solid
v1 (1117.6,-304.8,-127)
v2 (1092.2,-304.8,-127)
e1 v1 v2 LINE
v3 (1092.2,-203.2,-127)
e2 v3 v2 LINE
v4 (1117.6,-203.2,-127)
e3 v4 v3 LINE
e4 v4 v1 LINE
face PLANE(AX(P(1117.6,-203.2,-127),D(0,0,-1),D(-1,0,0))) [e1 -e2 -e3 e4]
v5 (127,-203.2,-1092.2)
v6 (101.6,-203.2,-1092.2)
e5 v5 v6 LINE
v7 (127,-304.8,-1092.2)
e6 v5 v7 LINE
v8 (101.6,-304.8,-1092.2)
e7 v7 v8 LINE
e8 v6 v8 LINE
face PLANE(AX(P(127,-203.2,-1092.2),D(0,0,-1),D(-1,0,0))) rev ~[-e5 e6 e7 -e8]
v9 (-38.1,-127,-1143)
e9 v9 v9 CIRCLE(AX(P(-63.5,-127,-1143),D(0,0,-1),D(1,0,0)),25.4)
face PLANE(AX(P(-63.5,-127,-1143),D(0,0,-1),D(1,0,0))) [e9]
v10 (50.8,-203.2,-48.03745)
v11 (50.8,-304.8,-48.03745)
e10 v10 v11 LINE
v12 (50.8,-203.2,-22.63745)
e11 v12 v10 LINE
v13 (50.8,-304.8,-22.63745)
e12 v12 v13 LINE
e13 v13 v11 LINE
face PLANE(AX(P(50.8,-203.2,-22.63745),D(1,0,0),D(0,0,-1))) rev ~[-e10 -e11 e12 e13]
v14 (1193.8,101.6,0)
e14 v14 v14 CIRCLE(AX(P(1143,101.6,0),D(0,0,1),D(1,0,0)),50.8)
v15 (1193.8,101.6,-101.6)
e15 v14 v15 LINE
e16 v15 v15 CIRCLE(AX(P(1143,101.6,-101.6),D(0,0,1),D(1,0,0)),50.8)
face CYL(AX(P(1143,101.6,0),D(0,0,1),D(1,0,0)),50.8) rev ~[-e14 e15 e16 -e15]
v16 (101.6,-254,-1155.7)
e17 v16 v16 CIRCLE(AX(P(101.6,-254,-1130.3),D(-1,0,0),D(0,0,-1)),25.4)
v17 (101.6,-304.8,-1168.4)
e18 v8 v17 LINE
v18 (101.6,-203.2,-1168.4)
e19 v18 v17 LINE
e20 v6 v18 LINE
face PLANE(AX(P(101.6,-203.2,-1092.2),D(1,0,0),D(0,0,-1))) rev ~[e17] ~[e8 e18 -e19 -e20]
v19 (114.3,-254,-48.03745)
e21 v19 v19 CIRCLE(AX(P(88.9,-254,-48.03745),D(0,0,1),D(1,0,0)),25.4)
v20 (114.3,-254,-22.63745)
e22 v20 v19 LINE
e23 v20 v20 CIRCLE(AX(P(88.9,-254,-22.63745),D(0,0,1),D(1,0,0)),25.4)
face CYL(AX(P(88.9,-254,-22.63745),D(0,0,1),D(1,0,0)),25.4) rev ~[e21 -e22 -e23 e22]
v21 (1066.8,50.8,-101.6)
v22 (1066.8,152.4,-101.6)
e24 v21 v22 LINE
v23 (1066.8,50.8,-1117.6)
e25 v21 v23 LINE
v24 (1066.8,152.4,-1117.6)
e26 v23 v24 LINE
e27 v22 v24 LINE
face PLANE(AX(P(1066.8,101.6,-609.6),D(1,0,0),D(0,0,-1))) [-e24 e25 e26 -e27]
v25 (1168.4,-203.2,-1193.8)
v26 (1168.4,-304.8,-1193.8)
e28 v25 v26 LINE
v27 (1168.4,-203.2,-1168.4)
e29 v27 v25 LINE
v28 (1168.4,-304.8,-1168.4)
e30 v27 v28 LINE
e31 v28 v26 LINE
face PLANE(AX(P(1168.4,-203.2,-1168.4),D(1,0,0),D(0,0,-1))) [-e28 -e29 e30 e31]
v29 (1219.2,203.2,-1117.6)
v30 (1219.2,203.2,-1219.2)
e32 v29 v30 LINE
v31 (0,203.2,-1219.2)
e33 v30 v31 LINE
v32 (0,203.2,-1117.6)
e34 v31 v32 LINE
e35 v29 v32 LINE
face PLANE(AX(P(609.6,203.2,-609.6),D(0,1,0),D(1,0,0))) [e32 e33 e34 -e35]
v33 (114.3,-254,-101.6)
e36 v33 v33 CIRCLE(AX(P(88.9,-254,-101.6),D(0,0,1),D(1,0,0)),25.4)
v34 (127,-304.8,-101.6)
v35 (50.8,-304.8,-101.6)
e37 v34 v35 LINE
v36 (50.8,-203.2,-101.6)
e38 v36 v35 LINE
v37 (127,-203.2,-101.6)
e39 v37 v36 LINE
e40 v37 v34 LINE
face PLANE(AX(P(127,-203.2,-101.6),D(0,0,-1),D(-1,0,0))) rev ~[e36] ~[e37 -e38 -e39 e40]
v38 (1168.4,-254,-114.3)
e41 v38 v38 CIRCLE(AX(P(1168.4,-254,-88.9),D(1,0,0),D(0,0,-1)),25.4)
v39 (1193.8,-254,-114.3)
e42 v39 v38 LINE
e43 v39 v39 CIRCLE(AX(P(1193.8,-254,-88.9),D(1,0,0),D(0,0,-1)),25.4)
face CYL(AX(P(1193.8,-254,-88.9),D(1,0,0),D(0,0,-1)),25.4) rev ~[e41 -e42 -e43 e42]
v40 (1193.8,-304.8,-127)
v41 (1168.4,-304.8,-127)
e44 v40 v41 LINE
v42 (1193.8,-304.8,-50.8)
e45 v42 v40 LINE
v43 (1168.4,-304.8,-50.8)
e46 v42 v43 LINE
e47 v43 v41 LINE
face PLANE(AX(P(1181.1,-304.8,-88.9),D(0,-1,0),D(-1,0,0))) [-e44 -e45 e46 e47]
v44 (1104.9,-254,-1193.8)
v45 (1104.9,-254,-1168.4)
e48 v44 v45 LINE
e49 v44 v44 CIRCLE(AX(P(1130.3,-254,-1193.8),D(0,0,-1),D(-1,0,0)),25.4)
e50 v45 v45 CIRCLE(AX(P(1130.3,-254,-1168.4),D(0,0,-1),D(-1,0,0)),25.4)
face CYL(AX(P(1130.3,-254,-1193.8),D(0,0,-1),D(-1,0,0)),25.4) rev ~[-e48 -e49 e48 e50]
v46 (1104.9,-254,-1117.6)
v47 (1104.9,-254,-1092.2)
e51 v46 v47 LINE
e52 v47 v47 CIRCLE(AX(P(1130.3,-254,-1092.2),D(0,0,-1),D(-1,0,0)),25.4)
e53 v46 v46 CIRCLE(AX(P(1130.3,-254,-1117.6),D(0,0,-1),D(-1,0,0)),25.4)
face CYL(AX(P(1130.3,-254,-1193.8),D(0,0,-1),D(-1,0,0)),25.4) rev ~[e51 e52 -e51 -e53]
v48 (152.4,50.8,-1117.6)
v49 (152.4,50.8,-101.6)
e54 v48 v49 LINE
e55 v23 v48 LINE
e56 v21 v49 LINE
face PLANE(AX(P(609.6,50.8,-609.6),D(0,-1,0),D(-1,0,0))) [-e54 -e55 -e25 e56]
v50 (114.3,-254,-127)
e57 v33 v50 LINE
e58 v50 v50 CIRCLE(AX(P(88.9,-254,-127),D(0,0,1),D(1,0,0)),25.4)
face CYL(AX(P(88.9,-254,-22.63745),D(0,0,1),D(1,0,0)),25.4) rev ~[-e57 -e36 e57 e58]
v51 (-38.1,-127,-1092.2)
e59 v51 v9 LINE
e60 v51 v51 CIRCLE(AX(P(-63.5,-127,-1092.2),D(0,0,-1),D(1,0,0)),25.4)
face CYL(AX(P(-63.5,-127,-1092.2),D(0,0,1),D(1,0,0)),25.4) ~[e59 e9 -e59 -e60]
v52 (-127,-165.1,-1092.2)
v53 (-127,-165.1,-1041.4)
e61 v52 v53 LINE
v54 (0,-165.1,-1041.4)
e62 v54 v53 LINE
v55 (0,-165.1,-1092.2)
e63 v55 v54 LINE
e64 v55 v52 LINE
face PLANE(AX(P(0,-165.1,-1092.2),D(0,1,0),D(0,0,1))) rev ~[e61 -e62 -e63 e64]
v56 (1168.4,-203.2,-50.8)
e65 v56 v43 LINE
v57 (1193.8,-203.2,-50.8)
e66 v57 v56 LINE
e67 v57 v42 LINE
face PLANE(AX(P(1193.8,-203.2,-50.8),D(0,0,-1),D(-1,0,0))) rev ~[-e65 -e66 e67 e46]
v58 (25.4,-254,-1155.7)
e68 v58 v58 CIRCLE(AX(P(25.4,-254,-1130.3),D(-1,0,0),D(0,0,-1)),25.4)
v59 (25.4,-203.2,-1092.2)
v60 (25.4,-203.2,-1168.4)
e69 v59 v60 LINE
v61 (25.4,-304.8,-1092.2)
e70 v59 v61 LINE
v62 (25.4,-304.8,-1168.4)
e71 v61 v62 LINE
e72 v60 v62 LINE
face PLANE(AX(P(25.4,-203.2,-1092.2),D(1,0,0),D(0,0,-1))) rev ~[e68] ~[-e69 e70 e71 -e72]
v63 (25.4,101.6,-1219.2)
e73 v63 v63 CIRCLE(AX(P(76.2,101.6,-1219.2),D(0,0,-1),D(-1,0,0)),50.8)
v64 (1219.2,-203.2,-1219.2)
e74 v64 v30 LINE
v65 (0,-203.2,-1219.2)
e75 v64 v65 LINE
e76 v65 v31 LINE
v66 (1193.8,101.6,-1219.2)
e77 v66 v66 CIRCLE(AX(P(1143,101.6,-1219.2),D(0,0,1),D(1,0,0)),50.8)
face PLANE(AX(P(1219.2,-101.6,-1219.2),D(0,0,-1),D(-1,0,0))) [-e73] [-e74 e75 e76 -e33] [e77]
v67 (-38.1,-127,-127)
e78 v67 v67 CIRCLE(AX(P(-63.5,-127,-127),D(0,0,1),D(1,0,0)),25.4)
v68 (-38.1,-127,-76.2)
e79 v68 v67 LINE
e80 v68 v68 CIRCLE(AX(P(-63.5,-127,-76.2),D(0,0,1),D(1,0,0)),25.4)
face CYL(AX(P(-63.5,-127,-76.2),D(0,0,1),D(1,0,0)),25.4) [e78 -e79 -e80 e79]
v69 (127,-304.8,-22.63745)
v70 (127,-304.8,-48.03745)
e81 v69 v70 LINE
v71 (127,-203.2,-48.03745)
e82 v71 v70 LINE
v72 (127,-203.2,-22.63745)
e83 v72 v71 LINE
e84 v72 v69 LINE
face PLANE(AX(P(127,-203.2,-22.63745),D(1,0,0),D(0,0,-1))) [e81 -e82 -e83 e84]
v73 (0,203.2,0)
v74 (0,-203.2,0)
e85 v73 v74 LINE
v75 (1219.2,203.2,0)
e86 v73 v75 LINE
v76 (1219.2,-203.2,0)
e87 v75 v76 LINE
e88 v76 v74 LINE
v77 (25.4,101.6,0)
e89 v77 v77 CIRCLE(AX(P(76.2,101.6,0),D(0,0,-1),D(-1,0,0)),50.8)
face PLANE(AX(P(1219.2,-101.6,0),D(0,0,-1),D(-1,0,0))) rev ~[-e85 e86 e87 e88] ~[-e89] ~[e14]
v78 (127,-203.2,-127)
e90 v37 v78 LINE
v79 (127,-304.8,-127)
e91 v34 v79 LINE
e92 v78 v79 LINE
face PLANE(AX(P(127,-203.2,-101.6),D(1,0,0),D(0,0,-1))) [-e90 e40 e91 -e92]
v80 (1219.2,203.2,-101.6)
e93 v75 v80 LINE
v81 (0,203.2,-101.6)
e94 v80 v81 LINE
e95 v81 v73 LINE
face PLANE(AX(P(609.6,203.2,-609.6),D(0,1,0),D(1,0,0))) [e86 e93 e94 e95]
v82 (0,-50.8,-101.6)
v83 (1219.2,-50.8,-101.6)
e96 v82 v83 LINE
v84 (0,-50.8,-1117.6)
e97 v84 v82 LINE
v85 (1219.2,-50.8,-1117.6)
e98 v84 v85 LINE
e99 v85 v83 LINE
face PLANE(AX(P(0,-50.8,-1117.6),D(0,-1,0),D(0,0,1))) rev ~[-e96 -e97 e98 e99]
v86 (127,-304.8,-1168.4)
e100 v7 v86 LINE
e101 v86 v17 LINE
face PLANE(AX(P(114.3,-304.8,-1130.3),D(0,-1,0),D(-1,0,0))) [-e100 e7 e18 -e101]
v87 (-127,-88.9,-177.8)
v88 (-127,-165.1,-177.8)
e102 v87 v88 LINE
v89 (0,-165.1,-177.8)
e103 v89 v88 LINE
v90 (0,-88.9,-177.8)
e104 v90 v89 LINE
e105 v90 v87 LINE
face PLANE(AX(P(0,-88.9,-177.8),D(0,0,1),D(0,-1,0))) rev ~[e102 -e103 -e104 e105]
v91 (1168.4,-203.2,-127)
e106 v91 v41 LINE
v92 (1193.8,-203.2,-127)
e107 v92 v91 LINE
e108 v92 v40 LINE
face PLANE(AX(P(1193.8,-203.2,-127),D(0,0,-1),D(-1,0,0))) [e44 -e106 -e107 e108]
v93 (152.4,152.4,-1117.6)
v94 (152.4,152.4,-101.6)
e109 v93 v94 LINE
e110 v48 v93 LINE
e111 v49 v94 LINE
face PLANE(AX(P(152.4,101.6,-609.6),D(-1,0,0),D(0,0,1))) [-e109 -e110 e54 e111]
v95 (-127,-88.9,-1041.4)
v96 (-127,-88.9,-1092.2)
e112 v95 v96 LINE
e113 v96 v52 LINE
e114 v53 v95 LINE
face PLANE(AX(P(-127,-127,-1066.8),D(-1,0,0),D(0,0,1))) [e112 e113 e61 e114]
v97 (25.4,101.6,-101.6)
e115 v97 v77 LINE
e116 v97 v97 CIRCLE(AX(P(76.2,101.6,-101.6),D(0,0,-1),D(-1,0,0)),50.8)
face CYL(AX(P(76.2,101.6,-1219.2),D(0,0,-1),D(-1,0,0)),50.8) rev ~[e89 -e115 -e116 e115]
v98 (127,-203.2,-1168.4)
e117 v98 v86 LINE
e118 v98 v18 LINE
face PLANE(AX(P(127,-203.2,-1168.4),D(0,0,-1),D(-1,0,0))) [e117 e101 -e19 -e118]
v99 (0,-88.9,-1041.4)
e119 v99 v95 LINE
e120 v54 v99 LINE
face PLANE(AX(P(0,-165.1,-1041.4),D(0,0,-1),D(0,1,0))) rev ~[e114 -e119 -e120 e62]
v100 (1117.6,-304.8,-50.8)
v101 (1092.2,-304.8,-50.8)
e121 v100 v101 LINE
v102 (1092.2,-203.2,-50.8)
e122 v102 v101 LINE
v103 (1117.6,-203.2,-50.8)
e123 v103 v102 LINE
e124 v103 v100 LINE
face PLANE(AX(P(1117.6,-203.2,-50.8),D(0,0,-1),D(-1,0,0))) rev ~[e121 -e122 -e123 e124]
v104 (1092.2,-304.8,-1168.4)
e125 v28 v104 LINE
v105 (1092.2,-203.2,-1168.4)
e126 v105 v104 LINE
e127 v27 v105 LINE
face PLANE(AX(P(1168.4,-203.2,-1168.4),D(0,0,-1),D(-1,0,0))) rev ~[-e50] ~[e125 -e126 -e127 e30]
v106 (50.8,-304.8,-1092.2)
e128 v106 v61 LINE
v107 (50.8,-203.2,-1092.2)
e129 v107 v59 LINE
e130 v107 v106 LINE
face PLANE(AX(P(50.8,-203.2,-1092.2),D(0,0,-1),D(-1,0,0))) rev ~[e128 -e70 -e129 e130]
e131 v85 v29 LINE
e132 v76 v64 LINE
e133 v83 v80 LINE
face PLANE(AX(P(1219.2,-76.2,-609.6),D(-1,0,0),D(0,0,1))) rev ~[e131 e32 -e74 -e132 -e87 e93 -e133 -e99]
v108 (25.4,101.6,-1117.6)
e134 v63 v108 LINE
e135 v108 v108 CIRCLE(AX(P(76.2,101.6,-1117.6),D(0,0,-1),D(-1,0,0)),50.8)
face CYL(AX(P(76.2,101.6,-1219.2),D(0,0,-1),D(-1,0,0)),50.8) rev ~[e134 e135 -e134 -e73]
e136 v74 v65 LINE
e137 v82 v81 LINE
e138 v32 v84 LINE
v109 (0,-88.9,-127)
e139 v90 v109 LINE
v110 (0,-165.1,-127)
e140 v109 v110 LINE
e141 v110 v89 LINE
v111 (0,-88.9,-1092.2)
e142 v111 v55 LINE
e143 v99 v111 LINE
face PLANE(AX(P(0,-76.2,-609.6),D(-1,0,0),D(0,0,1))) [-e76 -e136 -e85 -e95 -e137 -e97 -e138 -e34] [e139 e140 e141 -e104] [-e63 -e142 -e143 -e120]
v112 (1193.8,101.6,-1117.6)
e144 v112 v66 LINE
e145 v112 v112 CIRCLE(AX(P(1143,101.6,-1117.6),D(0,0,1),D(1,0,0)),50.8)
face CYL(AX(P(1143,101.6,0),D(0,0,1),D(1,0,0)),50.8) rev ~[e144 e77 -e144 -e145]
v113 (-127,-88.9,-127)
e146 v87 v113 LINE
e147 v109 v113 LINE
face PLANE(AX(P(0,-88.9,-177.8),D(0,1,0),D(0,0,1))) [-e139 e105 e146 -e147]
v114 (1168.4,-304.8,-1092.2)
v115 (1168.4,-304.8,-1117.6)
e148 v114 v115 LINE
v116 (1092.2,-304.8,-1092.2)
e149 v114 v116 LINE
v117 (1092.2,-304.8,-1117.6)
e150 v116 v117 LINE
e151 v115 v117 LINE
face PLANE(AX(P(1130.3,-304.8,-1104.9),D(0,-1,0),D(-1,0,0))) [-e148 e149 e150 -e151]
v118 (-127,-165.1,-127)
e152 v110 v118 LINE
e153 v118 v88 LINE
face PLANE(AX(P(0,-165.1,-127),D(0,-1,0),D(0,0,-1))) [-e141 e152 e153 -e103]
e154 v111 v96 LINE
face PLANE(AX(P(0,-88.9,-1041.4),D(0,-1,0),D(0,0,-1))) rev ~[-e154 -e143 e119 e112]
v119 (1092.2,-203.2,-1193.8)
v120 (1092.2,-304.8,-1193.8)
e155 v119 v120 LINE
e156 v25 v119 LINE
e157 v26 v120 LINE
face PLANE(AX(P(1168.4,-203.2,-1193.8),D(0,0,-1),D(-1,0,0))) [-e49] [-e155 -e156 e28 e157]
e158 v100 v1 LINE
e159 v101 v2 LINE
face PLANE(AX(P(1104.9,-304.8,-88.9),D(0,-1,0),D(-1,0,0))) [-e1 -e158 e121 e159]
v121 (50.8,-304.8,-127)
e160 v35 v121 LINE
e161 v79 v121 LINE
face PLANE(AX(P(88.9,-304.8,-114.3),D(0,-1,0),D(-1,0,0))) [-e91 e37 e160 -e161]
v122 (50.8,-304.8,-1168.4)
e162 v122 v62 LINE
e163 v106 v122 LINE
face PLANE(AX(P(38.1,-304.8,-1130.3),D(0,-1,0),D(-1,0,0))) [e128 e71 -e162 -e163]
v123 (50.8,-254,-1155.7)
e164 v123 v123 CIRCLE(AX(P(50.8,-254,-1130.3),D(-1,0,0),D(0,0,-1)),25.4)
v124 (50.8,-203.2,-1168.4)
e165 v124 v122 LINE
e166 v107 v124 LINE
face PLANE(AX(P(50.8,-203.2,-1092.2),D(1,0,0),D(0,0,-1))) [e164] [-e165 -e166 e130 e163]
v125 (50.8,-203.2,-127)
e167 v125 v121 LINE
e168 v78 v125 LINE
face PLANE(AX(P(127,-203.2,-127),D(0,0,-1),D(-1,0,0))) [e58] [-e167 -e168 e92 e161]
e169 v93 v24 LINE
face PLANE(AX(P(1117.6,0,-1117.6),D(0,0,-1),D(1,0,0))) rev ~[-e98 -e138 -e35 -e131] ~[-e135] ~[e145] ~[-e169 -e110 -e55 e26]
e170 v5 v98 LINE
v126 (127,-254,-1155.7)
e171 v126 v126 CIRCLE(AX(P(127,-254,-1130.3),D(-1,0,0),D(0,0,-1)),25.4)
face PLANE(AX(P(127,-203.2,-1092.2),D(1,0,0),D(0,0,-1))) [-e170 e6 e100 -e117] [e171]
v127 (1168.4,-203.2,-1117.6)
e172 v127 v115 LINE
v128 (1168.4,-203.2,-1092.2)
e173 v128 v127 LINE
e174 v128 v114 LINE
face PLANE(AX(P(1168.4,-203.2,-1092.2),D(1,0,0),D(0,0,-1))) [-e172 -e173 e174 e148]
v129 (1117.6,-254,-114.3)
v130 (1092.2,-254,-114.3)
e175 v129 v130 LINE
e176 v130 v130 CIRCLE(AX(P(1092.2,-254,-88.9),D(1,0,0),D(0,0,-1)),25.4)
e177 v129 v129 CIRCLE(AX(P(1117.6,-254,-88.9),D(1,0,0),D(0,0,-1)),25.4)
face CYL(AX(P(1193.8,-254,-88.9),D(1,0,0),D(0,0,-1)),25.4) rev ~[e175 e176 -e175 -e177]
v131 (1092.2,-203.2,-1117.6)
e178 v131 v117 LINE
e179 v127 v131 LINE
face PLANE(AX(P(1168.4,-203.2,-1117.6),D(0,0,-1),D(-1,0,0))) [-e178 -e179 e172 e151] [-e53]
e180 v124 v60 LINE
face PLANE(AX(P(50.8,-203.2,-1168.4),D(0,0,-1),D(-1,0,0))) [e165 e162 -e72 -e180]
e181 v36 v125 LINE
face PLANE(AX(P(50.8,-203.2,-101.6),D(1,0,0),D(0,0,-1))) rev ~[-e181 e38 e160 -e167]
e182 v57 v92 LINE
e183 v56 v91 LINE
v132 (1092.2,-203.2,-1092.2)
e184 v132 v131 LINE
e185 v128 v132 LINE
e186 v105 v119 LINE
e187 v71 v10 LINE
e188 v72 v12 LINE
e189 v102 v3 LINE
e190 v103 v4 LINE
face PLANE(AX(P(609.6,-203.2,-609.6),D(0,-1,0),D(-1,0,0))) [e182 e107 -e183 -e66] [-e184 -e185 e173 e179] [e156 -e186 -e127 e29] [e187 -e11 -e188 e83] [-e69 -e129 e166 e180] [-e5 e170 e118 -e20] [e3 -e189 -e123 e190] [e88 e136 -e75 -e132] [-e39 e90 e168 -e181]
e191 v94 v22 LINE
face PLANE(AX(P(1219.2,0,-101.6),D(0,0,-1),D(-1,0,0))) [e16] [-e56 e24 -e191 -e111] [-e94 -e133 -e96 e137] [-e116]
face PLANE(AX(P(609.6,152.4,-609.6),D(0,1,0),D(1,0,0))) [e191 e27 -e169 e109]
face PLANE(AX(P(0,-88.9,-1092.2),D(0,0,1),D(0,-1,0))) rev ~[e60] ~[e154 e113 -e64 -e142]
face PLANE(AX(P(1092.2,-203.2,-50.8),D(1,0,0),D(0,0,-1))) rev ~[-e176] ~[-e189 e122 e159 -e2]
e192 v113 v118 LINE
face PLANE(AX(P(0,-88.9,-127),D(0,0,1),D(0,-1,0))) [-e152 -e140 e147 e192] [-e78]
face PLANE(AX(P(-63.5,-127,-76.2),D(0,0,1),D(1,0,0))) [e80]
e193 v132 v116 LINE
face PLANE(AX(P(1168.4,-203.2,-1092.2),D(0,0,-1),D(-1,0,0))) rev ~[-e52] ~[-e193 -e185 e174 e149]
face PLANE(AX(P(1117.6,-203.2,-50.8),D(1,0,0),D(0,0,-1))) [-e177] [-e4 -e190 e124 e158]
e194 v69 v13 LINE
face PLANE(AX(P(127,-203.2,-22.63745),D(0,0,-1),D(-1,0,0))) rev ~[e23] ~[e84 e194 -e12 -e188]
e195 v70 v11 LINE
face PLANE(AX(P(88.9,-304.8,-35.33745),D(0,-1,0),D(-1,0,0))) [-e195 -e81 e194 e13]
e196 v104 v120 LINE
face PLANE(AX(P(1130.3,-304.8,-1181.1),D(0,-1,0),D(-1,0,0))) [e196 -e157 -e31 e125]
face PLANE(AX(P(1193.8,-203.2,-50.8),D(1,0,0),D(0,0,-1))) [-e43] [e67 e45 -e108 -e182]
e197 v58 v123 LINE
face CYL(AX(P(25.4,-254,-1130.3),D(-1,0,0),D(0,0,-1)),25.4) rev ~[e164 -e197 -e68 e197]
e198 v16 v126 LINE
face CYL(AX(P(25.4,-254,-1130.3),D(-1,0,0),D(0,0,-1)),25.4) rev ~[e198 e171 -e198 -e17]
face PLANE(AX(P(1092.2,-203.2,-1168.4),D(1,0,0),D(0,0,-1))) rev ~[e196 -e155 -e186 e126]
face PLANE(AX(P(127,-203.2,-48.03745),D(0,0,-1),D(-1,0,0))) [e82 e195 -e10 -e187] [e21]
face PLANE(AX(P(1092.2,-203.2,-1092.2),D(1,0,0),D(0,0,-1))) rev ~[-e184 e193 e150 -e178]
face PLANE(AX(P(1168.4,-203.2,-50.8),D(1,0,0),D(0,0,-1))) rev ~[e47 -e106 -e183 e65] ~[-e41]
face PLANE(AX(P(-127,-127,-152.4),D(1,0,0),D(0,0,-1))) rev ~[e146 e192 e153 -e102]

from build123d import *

# Parameters (mm, degrees)
BOSS_EXTRUDE1_DEPTH = 203.2
SKETCH2_W           = 1016
SKETCH2_H           = 1016
CUT_EXTRUDE1_DEPTH  = 50.8
SKETCH3_W           = 1016
SKETCH3_H           = 1016
CUT_EXTRUDE2_DEPTH  = 50.8
SKETCH4_W           = 1016
SKETCH4_H           = 101.6
CUT_EXTRUDE3_DEPTH  = 50.8
SKETCH5_W           = 1016
SKETCH5_H           = 101.6
CUT_EXTRUDE4_DEPTH  = 50.8
SKETCH6_R           = 50.8
CUT_EXTRUDE5_DEPTH  = 1270
SKETCH7_R           = 50.8
CUT_EXTRUDE6_DEPTH  = 1270
SKETCH8_W           = 1219.2
SKETCH8_H           = 101.6
BOSS_EXTRUDE2_DEPTH = 101.6
SKETCH9_W           = 1219.2
SKETCH9_H           = 1219.2
BOSS_EXTRUDE4_DEPTH = 101.6
SKETCH10_W          = 25.4
SKETCH10_H          = 76.2
SKETCH10_W_2        = 76.2
SKETCH10_H_2        = 25.4
BOSS_EXTRUDE5_DEPTH = 101.6
SKETCH12_R          = 25.4
CUT_EXTRUDE7_DEPTH  = 203.2
SKETCH13_R          = 25.4
CUT_EXTRUDE8_DEPTH  = 203.2
SKETCH14_R          = 25.4
CUT_EXTRUDE9_DEPTH  = 203.2
SKETCH15_R          = 25.4
CUT_EXTRUDE10_DEPTH = 203.2
SKETCH16_W          = 1016
SKETCH16_H          = 50.8
BOSS_EXTRUDE6_DEPTH = 1219.2
BOSS_EXTRUDE7_DEPTH = 127
SKETCH18_R          = 25.4
BOSS_EXTRUDE8_DEPTH = 50.8
BOSS_EXTRUDE9_START = 50.8
SKETCH19_R          = 25.4
BOSS_EXTRUDE9_DEPTH = 50.8


with BuildPart() as part:
    # Sketch1 → Boss-Extrude1 (new body)
    with BuildSketch(Plane(origin=(0, 0, 0), x_dir=(1, 0, 0), z_dir=(0, 1, 0))):
        Polygon((0, 0), (1219.2, 0), (1219.2, 101.6), (1117.6, 101.6), (1117.6, 1117.6), (1219.2, 1117.6), (1219.2, 1219.2), (0, 1219.2), (0, 1117.6), (101.6, 1117.6), (101.6, 101.6), (0, 101.6), align=None)
    extrude(amount=BOSS_EXTRUDE1_DEPTH)

    # Sketch2 → Cut-Extrude1 (cut)
    with BuildSketch(Plane(origin=(0, 203.2, 0), x_dir=(1, 0, 0), z_dir=(0, 1, 0))):
        with Locations((609.6, 609.6)):
            Rectangle(SKETCH2_W, SKETCH2_H)
    extrude(amount=-CUT_EXTRUDE1_DEPTH, mode=Mode.SUBTRACT)

    # Sketch3 → Cut-Extrude2 (cut)
    with BuildSketch(Plane(origin=(0, 0, 0), x_dir=(-1, 0, 0), z_dir=(0, -1, 0))):
        with Locations((-609.6, 609.6)):
            Rectangle(SKETCH3_W, SKETCH3_H)
    extrude(amount=-CUT_EXTRUDE2_DEPTH, mode=Mode.SUBTRACT)

    # Sketch4 → Cut-Extrude3 (cut)
    with BuildSketch(Plane(origin=(1117.6, 0, 0), x_dir=(0, 0, -1), z_dir=(1, 0, 0))):
        with Locations((609.6, 101.6)):
            Rectangle(SKETCH4_W, SKETCH4_H)
    extrude(amount=-CUT_EXTRUDE3_DEPTH, mode=Mode.SUBTRACT)

    # Sketch5 → Cut-Extrude4 (cut)
    with BuildSketch(Plane.ZY.offset(-101.6)):
        with Locations((-609.6, 101.6)):
            Rectangle(SKETCH5_W, SKETCH5_H)
    extrude(amount=-CUT_EXTRUDE4_DEPTH, mode=Mode.SUBTRACT)

    # Sketch6 → Cut-Extrude5 (cut)
    with BuildSketch(Plane.XY):
        with Locations((1143, 101.6)):
            Circle(SKETCH6_R)
    extrude(amount=-CUT_EXTRUDE5_DEPTH, mode=Mode.SUBTRACT)

    # Sketch7 → Cut-Extrude6 (cut)
    with BuildSketch(Plane(origin=(0, 0, -1219.2), x_dir=(-1, 0, 0), z_dir=(0, 0, -1))):
        with Locations((-76.2, 101.6)):
            Circle(SKETCH7_R)
    extrude(amount=-CUT_EXTRUDE6_DEPTH, mode=Mode.SUBTRACT)

    # Sketch8 → Boss-Extrude2 (add)
    with BuildSketch(Plane(origin=(0, 0, 0), x_dir=(-1, 0, 0), z_dir=(0, -1, 0))):
        with Locations((-609.6, 50.8)):
            Rectangle(SKETCH8_W, SKETCH8_H)
        with Locations((-609.6, 1168.4)):
            Rectangle(SKETCH8_W, SKETCH8_H)
    extrude(amount=BOSS_EXTRUDE2_DEPTH)

    # Sketch9 → Boss-Extrude4 (add)
    with BuildSketch(Plane(origin=(0, -101.6, 0), x_dir=(-1, 0, 0), z_dir=(0, -1, 0))):
        with Locations((-609.6, 609.6)):
            Rectangle(SKETCH9_W, SKETCH9_H)
    extrude(amount=BOSS_EXTRUDE4_DEPTH)

    # Sketch10 → Boss-Extrude5 (add)
    with BuildSketch(Plane(origin=(0, -203.2, 0), x_dir=(-1, 0, 0), z_dir=(0, -1, 0))):
        with Locations((-1104.9, 88.9)):
            Rectangle(SKETCH10_W, SKETCH10_H)
        with Locations((-1181.1, 88.9)):
            Rectangle(SKETCH10_W, SKETCH10_H)
        with Locations((-88.9, 114.3)):
            Rectangle(SKETCH10_W_2, SKETCH10_H_2)
        with Locations((-88.9, 35.337450191)):
            Rectangle(SKETCH10_W_2, SKETCH10_H_2)
        with Locations((-1130.3, 1104.9)):
            Rectangle(SKETCH10_W_2, SKETCH10_H_2)
        with Locations((-1130.3, 1181.1)):
            Rectangle(SKETCH10_W_2, SKETCH10_H_2)
        with Locations((-38.1, 1130.3)):
            Rectangle(SKETCH10_W, SKETCH10_H)
        with Locations((-114.3, 1130.3)):
            Rectangle(SKETCH10_W, SKETCH10_H)
    extrude(amount=BOSS_EXTRUDE5_DEPTH)

    # Sketch12 → Cut-Extrude7 (cut)
    with BuildSketch(Plane(origin=(1193.8, 0, 0), x_dir=(0, 0, -1), z_dir=(1, 0, 0))):
        with Locations((88.9, -254)):
            Circle(SKETCH12_R)
    extrude(amount=-CUT_EXTRUDE7_DEPTH, mode=Mode.SUBTRACT)

    # Sketch13 → Cut-Extrude8 (cut)
    with BuildSketch(Plane(origin=(0, 0, -1193.8), x_dir=(-1, 0, 0), z_dir=(0, 0, -1))):
        with Locations((-1130.3, -254)):
            Circle(SKETCH13_R)
    extrude(amount=-CUT_EXTRUDE8_DEPTH, mode=Mode.SUBTRACT)

    # Sketch14 → Cut-Extrude9 (cut)
    with BuildSketch(Plane.ZY.offset(-25.4)):
        with Locations(Location((-1130.3, -254, 0), (0, 0, 180))):
            Circle(SKETCH14_R)
    extrude(amount=-CUT_EXTRUDE9_DEPTH, mode=Mode.SUBTRACT)

    # Sketch15 → Cut-Extrude10 (cut)
    with BuildSketch(Plane.XY.offset(-22.637450191)):
        with Locations((88.9, -254)):
            Circle(SKETCH15_R)
    extrude(amount=-CUT_EXTRUDE10_DEPTH, mode=Mode.SUBTRACT)

    # Sketch16 → Boss-Extrude6 (add)
    with BuildSketch(Plane.ZY):
        with Locations((-609.6, -76.2)):
            Rectangle(SKETCH16_W, SKETCH16_H)
    extrude(amount=-BOSS_EXTRUDE6_DEPTH)

    # Sketch17 → Boss-Extrude7 (add)
    with BuildSketch(Plane.ZY):
        Polygon((-1092.2, -165.1), (-1041.4, -165.1), (-1041.4, -127), (-1041.4, -88.9), (-1092.2, -88.9), align=None)
        Polygon((-177.8, -127), (-177.8, -88.9), (-127, -88.9), (-127, -165.1), (-177.8, -165.1), align=None)
    extrude(amount=BOSS_EXTRUDE7_DEPTH)

    # Sketch18 → Boss-Extrude8 (add)
    with BuildSketch(Plane(origin=(0, 0, -1092.2), x_dir=(-1, 0, 0), z_dir=(0, 0, -1))):
        with Locations(Location((63.5, -127, 0), (0, 0, 180))):
            Circle(SKETCH18_R)
    extrude(amount=BOSS_EXTRUDE8_DEPTH)

    # Sketch19 → Boss-Extrude9 (add)
    with BuildSketch(Plane.XY.offset(-127).offset(BOSS_EXTRUDE9_START)):
        with Locations((-63.5, -127)):
            Circle(SKETCH19_R)
    extrude(amount=-BOSS_EXTRUDE9_DEPTH)


solid = part.part
